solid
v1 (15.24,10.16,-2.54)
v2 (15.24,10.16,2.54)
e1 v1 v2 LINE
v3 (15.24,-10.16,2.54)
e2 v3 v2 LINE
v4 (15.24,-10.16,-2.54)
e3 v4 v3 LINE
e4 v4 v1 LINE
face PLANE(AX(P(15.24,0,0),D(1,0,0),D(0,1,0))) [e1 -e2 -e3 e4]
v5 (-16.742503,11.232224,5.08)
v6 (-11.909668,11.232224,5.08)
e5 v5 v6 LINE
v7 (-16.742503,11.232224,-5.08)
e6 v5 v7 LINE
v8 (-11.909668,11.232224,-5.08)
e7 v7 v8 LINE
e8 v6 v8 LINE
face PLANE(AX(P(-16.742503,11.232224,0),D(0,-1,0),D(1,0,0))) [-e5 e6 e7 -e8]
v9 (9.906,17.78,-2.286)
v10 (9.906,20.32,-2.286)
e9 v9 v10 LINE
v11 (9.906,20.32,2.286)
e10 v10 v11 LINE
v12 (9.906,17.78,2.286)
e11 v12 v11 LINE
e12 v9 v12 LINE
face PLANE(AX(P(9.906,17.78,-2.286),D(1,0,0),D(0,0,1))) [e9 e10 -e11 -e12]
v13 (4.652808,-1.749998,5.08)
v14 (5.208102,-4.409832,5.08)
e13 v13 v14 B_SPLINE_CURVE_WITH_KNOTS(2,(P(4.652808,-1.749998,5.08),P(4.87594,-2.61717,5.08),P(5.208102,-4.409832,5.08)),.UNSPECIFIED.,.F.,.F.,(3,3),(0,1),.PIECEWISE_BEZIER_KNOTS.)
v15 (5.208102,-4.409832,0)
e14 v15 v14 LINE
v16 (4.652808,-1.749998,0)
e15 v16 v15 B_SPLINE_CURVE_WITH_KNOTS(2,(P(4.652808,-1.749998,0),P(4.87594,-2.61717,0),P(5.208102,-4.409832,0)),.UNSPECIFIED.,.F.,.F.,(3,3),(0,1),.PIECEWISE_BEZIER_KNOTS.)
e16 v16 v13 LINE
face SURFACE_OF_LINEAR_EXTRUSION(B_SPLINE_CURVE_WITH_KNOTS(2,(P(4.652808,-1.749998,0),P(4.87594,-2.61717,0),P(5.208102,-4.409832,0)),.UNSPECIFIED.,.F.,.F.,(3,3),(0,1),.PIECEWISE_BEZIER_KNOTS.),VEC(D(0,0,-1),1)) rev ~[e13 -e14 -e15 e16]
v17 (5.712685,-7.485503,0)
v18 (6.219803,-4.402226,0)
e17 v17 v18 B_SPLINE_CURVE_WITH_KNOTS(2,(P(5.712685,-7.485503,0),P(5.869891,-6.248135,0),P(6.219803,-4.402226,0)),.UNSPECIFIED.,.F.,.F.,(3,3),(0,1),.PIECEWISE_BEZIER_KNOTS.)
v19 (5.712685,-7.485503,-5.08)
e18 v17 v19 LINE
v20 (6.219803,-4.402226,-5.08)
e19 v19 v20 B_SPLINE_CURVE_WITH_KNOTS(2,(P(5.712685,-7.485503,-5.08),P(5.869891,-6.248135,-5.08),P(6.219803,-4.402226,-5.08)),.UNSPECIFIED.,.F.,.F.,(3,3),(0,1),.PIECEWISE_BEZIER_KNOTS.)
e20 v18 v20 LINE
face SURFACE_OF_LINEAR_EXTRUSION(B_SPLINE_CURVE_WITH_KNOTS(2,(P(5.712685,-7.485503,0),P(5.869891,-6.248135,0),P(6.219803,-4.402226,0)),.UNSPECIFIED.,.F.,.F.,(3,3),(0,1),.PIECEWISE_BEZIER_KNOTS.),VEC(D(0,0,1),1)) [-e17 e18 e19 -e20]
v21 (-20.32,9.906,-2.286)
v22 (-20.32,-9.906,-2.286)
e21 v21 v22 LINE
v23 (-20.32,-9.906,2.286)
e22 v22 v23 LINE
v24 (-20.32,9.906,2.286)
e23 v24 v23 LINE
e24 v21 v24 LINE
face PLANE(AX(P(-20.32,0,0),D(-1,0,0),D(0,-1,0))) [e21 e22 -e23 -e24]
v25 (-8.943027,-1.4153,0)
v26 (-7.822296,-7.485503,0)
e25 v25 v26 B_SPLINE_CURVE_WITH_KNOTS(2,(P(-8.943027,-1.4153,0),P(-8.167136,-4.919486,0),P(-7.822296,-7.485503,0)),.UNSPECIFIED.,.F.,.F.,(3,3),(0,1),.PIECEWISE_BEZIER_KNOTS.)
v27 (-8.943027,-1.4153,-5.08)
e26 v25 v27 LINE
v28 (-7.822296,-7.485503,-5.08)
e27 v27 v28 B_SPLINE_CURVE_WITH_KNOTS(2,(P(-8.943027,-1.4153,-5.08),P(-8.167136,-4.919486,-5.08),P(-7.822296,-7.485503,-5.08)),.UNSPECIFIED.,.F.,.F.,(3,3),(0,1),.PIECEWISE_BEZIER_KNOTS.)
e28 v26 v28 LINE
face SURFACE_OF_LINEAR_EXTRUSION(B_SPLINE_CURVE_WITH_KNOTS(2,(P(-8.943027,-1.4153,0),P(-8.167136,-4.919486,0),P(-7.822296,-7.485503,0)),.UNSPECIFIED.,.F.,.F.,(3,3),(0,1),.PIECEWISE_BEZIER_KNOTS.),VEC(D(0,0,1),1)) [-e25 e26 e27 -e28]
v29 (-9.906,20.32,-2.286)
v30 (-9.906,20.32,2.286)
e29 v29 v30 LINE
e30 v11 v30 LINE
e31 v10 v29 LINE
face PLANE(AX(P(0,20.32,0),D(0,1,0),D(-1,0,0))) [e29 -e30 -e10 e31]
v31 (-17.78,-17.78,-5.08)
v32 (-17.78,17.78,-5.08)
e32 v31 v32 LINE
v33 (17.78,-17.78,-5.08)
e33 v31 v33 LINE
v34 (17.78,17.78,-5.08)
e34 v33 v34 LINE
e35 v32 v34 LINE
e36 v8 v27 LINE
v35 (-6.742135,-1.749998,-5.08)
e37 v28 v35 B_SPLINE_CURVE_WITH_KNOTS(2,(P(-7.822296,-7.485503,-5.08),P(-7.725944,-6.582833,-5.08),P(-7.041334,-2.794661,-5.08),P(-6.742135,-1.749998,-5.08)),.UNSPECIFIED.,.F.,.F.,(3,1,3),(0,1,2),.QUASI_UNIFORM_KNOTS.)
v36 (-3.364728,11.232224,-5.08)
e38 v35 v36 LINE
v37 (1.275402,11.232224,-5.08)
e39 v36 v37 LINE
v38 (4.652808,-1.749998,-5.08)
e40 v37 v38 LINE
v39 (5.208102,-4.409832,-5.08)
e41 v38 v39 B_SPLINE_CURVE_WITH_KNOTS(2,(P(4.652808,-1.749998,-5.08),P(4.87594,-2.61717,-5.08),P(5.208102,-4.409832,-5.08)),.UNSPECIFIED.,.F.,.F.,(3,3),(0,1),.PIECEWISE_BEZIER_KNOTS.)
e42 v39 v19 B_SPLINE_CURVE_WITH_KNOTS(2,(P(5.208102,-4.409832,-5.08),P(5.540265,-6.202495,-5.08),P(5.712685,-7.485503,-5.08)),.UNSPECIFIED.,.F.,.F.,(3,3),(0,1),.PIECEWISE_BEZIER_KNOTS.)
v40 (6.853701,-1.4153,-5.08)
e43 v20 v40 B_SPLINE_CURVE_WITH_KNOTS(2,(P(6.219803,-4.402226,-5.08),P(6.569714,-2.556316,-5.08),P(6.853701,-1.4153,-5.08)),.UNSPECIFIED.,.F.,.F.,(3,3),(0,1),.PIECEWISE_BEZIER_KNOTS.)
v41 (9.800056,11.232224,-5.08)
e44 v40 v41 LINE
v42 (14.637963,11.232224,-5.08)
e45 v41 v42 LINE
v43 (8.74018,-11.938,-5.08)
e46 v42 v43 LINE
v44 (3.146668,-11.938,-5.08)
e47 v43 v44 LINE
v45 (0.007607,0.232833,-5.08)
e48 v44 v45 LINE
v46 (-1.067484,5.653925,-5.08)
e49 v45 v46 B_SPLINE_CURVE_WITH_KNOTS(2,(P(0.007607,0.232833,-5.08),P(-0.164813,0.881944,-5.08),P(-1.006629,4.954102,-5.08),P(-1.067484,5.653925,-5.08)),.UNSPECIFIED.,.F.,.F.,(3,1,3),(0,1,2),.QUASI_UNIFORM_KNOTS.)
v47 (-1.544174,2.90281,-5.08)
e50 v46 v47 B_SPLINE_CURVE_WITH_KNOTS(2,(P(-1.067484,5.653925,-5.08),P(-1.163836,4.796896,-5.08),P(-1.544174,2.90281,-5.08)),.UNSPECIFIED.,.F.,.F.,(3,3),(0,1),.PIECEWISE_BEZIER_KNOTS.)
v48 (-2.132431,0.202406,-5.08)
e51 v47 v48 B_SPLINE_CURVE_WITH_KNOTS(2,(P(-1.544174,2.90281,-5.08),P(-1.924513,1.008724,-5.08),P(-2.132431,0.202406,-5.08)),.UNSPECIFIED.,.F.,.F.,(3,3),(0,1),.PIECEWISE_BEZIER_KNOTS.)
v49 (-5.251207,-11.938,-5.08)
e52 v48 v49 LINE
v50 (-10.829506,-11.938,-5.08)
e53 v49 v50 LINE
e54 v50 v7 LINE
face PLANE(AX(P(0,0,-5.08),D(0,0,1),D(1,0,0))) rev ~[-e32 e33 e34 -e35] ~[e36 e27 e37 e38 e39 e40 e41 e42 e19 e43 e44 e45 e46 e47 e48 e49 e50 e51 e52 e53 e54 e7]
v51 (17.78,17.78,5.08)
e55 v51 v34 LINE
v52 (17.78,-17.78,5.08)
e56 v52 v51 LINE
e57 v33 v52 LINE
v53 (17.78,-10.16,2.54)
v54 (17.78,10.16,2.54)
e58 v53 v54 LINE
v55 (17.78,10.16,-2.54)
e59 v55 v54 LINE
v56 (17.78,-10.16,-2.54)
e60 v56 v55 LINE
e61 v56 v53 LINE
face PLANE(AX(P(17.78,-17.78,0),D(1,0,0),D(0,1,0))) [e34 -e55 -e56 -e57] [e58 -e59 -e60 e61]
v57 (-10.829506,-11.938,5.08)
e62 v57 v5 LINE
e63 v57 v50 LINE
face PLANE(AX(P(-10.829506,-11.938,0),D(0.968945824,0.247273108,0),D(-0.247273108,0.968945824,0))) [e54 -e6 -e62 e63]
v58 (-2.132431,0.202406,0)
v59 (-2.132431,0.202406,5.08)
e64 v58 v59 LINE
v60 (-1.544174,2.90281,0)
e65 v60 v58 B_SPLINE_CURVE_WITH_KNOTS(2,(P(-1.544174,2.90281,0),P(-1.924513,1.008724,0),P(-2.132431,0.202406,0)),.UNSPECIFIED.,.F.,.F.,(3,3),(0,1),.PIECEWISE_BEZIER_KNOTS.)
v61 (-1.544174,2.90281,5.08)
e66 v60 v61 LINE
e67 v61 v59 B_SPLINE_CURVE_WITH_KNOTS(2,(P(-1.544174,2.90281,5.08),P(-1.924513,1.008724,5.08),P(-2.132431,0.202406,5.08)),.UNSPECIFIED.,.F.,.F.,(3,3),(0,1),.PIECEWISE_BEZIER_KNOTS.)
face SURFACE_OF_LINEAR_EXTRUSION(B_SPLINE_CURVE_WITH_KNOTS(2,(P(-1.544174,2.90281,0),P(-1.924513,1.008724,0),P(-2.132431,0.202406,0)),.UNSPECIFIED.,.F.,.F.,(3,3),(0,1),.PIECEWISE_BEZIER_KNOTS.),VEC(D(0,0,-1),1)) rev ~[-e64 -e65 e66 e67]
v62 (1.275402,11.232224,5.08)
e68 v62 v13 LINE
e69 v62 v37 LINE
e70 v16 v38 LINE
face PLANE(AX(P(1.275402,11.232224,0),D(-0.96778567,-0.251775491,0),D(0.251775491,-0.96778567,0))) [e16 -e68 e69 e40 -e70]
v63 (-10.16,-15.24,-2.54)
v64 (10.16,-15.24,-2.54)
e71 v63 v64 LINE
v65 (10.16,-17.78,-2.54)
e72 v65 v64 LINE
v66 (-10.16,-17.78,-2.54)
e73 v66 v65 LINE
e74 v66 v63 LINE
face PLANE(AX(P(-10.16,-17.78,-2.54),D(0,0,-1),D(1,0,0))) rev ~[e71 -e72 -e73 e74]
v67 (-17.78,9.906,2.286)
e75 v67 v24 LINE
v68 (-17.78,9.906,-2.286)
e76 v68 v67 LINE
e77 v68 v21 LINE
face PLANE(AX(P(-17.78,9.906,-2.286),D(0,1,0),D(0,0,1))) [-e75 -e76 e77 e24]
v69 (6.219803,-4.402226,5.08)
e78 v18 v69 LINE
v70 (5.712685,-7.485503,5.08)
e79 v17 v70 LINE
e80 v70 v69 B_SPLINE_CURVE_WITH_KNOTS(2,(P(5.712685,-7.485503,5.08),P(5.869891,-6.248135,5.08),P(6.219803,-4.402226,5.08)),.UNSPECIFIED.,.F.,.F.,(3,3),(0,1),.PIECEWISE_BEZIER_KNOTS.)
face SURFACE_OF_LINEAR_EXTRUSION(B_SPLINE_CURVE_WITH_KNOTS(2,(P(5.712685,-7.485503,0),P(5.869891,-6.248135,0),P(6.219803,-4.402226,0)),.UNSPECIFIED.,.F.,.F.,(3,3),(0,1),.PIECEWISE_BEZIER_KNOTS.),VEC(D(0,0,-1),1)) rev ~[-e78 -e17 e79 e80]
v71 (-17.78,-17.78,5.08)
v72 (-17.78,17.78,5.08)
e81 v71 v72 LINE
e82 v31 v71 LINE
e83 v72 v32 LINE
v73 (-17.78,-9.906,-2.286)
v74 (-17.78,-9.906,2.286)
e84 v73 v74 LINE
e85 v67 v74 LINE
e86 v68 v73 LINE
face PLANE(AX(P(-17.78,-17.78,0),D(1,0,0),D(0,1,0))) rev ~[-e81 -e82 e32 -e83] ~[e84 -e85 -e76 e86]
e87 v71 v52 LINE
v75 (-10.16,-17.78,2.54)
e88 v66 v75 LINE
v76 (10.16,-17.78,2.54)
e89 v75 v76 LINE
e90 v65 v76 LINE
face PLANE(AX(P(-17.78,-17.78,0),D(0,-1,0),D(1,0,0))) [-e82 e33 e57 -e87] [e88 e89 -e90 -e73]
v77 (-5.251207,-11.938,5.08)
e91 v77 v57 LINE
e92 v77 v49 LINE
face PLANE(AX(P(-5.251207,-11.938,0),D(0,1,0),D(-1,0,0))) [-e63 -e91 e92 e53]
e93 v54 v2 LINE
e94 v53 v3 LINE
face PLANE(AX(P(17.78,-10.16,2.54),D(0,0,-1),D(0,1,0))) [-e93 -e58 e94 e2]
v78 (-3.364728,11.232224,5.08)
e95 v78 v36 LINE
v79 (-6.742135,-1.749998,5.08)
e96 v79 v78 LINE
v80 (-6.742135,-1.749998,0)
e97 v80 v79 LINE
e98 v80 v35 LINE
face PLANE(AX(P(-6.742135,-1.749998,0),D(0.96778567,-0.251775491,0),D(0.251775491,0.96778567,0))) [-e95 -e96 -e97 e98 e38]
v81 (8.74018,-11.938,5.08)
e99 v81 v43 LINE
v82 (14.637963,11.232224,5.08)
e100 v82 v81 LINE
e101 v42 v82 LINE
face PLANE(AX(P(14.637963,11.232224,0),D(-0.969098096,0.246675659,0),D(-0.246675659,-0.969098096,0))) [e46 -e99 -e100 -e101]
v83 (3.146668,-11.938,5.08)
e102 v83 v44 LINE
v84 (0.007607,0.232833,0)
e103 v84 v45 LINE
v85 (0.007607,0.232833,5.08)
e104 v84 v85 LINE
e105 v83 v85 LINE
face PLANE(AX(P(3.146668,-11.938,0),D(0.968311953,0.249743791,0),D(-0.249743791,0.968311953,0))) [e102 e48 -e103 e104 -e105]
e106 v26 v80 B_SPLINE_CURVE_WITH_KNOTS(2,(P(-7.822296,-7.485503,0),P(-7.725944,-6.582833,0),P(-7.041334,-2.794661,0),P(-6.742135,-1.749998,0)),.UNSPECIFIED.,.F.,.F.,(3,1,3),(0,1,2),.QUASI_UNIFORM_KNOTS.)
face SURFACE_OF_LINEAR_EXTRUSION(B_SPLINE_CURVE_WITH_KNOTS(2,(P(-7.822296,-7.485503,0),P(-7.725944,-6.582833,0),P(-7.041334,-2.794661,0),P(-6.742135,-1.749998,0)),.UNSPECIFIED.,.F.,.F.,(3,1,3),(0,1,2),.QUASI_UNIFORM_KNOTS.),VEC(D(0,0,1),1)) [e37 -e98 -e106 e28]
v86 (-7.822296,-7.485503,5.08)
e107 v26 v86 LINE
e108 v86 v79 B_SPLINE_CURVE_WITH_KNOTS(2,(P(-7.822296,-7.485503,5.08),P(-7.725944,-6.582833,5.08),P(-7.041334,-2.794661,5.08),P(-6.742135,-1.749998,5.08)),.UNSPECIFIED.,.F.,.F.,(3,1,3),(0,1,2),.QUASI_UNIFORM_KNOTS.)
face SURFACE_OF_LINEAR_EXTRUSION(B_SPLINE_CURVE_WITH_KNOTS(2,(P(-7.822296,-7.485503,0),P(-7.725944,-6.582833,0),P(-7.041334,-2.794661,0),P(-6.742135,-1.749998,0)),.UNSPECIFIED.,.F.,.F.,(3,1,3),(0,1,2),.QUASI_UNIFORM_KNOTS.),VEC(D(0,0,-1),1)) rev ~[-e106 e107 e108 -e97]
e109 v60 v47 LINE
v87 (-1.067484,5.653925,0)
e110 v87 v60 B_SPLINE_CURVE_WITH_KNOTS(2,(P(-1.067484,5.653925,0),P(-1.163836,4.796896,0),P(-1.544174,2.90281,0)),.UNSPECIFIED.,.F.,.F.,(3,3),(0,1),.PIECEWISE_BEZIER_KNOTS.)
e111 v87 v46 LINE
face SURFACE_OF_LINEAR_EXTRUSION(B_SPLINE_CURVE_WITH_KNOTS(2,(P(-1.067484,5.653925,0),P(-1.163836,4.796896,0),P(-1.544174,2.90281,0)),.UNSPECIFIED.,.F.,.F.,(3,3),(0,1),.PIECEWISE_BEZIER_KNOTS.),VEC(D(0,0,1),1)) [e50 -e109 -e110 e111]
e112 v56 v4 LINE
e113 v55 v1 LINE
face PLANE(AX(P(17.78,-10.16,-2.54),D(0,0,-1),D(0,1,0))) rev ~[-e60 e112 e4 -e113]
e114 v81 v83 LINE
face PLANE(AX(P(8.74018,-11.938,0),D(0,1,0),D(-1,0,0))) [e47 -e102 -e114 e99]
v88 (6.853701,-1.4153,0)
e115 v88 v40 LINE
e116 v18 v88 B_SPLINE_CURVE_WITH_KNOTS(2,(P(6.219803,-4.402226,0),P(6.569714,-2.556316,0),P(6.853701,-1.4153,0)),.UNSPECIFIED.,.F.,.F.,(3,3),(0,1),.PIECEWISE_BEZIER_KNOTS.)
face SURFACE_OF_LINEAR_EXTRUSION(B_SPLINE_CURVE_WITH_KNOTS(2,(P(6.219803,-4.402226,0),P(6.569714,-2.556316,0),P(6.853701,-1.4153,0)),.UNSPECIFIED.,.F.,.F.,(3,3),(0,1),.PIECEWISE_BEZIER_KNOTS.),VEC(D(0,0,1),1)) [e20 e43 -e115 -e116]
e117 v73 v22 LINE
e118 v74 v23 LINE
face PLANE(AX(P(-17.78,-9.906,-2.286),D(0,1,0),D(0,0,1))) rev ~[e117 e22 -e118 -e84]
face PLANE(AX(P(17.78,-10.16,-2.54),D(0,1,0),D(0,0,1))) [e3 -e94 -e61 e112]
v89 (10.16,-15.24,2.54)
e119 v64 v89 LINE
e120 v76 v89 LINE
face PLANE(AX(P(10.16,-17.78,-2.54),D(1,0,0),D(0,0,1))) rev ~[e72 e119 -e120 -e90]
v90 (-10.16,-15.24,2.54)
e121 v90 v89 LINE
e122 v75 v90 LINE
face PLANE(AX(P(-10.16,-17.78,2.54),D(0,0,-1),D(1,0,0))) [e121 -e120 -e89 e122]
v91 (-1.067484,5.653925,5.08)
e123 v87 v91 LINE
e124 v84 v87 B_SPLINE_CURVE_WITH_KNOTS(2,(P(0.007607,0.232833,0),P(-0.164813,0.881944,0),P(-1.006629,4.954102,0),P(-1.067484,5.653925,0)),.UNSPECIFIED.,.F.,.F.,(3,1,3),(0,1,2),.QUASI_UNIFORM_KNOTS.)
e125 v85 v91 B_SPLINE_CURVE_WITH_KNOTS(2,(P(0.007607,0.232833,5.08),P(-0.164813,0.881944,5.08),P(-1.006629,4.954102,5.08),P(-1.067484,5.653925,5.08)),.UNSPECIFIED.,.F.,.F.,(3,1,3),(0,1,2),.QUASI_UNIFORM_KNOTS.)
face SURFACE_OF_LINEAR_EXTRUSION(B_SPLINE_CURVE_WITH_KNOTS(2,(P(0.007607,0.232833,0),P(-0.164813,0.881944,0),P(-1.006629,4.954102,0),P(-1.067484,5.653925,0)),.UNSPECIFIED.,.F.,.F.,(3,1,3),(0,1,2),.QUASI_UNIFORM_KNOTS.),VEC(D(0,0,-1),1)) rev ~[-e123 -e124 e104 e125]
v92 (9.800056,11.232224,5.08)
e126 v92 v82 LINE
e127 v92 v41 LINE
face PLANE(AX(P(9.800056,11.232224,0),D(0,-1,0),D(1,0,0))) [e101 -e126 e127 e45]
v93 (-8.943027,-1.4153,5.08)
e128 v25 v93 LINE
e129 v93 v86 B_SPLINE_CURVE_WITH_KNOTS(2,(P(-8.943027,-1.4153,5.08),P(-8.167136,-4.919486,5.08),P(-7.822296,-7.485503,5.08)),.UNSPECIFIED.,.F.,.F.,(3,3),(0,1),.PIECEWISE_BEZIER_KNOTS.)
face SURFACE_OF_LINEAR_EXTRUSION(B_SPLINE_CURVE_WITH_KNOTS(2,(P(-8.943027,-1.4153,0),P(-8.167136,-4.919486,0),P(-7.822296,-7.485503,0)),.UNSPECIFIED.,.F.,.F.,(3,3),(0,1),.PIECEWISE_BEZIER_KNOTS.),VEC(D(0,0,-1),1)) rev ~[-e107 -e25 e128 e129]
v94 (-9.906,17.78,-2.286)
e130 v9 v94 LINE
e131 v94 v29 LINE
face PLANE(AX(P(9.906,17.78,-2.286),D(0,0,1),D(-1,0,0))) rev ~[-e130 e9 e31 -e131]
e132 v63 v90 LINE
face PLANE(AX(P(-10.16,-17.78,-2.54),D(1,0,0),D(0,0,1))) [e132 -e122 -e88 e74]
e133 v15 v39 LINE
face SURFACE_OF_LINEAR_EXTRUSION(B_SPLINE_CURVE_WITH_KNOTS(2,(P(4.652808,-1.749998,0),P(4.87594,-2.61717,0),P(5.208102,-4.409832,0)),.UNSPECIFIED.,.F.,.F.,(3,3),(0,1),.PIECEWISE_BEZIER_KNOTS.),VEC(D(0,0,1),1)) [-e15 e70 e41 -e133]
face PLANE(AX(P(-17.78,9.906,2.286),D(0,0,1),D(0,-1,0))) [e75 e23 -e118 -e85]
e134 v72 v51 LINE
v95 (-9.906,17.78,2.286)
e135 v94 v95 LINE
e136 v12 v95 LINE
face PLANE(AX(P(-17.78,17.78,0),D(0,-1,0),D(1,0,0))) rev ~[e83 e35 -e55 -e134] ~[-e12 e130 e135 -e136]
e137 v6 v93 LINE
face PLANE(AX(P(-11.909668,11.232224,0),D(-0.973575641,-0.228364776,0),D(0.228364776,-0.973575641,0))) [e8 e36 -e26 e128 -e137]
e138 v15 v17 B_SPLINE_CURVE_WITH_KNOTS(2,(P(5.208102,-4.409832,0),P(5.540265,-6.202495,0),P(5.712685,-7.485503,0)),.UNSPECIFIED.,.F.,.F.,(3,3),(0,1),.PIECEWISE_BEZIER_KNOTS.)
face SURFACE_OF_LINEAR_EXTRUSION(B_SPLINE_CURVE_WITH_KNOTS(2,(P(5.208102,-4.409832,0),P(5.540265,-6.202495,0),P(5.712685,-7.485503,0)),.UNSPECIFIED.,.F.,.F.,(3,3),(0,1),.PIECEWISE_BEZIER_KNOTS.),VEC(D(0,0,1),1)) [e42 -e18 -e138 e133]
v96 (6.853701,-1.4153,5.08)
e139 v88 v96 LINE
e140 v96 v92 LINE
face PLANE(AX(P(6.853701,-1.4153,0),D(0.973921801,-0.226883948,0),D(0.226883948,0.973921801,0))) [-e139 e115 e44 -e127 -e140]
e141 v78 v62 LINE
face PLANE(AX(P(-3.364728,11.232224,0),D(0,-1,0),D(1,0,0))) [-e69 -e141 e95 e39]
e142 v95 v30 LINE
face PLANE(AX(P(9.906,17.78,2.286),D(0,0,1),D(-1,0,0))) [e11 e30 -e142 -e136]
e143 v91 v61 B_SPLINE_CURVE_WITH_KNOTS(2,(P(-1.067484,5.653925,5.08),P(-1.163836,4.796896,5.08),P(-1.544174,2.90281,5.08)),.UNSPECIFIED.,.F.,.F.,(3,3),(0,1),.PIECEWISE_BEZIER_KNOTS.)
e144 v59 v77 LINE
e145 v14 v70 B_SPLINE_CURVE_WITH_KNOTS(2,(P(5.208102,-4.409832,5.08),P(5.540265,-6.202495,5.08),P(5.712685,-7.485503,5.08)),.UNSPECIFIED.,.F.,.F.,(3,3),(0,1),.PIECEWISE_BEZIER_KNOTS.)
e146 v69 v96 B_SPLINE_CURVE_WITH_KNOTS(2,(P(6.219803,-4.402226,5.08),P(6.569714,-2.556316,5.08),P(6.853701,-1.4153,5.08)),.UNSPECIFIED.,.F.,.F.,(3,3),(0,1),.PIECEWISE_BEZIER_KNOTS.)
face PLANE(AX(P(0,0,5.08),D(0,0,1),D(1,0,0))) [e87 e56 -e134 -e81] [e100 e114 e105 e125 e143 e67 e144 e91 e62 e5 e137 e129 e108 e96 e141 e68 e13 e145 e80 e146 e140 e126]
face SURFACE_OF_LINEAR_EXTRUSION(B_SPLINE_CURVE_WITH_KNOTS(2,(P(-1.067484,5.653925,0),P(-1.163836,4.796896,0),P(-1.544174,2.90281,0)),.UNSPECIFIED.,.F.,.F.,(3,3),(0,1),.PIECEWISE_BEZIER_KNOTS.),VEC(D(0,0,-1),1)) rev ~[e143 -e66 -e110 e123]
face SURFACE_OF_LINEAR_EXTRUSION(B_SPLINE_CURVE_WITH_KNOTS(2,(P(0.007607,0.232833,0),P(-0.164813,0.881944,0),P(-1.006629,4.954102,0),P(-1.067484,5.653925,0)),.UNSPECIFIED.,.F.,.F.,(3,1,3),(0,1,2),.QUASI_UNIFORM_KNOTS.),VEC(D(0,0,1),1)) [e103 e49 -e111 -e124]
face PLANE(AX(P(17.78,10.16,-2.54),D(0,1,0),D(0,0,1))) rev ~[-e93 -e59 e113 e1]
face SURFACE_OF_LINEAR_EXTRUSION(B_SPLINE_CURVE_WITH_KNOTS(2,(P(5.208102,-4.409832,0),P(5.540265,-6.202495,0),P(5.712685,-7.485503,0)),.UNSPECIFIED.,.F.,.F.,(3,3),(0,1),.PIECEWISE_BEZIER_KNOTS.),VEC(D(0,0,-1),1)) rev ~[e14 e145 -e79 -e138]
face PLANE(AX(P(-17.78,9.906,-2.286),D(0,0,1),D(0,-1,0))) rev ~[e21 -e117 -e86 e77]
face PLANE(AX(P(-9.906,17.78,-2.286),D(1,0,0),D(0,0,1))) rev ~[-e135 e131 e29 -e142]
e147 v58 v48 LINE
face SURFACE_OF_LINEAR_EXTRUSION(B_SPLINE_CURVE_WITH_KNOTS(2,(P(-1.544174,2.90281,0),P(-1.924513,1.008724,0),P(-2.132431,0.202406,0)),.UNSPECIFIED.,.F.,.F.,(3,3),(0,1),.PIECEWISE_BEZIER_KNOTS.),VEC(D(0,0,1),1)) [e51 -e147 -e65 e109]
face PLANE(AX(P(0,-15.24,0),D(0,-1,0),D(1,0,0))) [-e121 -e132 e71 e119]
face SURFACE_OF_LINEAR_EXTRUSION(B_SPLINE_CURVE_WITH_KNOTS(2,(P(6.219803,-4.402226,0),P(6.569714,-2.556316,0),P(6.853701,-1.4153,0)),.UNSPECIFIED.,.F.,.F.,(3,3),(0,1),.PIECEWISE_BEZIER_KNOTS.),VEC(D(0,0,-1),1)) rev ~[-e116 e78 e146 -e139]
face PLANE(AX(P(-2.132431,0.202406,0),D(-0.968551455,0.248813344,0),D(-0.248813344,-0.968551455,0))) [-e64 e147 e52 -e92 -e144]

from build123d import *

# Parameters (mm, degrees)
F0_W     = 35.56
F0_H     = 35.56
F1_DEPTH = 5.08
F2_W     = 19.812
F2_H     = 4.572
F3_DEPTH = 2.54
F4_W     = 19.812
F4_H     = 4.572
F5_DEPTH = 2.54
F6_W     = 20.32
F6_H     = 5.08
F7_DEPTH = 2.54
F8_W     = 20.32
F8_H     = 5.08
F9_DEPTH = 2.54


with BuildPart() as f1:
    # F0 (on Top) → F1 (new body, symmetric)
    with BuildSketch(Plane.XY):
        Rectangle(F0_W, F0_H)
        with BuildLine():
            Line((14.6379626736, 11.2322239583), (8.7401796875, -11.938))
            Line((8.7401796875, -11.938), (3.1466675347, -11.938))
            Line((3.1466675347, -11.938), (0.0076067708, 0.2328333333))
            add(Edge.make_bspline(
                [(0.0076067708, 0.2328333333), (-0.1648133681, 0.8819444444), (-0.5857213542, 2.9180234375)],
                knots=[0, 0, 0, 1, 1, 1], degree=2))
            add(Edge.make_bspline(
                [(-0.5857213542, 2.9180234375), (-1.0066293403, 4.9541024306), (-1.0674835069, 5.6539253472)],
                knots=[0, 0, 0, 1, 1, 1], degree=2))
            add(Edge.make_bspline(
                [(-1.0674835069, 5.6539253472), (-1.1638359375, 4.7968958333), (-1.5441744792, 2.9028098958)],
                knots=[0, 0, 0, 1, 1, 1], degree=2))
            add(Edge.make_bspline(
                [(-1.5441744792, 2.9028098958), (-1.9245130208, 1.0087239583), (-2.1324314236, 0.20240625)],
                knots=[0, 0, 0, 1, 1, 1], degree=2))
            Line((-2.1324314236, 0.20240625), (-5.2512074653, -11.938))
            Line((-5.2512074653, -11.938), (-10.8295060764, -11.938))
            Line((-10.8295060764, -11.938), (-16.7425026042, 11.2322239583))
            Line((-16.7425026042, 11.2322239583), (-11.9096675347, 11.2322239583))
            Line((-11.9096675347, 11.2322239583), (-8.9430269097, -1.4153003472))
            add(Edge.make_bspline(
                [(-8.9430269097, -1.4153003472), (-8.1671362847, -4.9194861111), (-7.8222960069, -7.4855034722)],
                knots=[0, 0, 0, 1, 1, 1], degree=2))
            add(Edge.make_bspline(
                [(-7.8222960069, -7.4855034722), (-7.7259435764, -6.5828333333), (-7.3836388889, -4.6887473958)],
                knots=[0, 0, 0, 1, 1, 1], degree=2))
            add(Edge.make_bspline(
                [(-7.3836388889, -4.6887473958), (-7.0413342014, -2.7946614583), (-6.7421345486, -1.7499982639)],
                knots=[0, 0, 0, 1, 1, 1], degree=2))
            Line((-6.7421345486, -1.7499982639), (-3.3647282986, 11.2322239583))
            Line((-3.3647282986, 11.2322239583), (1.2754019097, 11.2322239583))
            Line((1.2754019097, 11.2322239583), (4.6528081597, -1.7499982639))
            add(Edge.make_bspline(
                [(4.6528081597, -1.7499982639), (4.8759401042, -2.6171701389), (5.2081024306, -4.4098324653)],
                knots=[0, 0, 0, 1, 1, 1], degree=2))
            add(Edge.make_bspline(
                [(5.2081024306, -4.4098324653), (5.5402647569, -6.2024947917), (5.7126848958, -7.4855034722)],
                knots=[0, 0, 0, 1, 1, 1], degree=2))
            add(Edge.make_bspline(
                [(5.7126848958, -7.4855034722), (5.8698914931, -6.2481354167), (6.2198029514, -4.4022256944)],
                knots=[0, 0, 0, 1, 1, 1], degree=2))
            add(Edge.make_bspline(
                [(6.2198029514, -4.4022256944), (6.5697144097, -2.5563159722), (6.8537005208, -1.4153003472)],
                knots=[0, 0, 0, 1, 1, 1], degree=2))
            Line((6.8537005208, -1.4153003472), (9.8000564236, 11.2322239583))
            Line((9.8000564236, 11.2322239583), (14.6379626736, 11.2322239583))
        make_face(mode=Mode.SUBTRACT)
    extrude(amount=F1_DEPTH, both=True)

    # F2 (on face) → F3 (join)
    with BuildSketch(Plane(origin=(0, 17.78, 0), x_dir=(-1, 0, 0), z_dir=(0, 1, 0))):
        Rectangle(F2_W, F2_H)
    extrude(amount=F3_DEPTH)

    # F4 (on face) → F5 (join)
    with BuildSketch(Plane(origin=(-17.78, 0, 0), x_dir=(0, -1, 0), z_dir=(-1, 0, 0))):
        Rectangle(F4_W, F4_H)
    extrude(amount=F5_DEPTH)

    # F6 (on face) → F7 (cut)
    with BuildSketch(Plane.XZ.offset(17.78)):
        Rectangle(F6_W, F6_H)
    extrude(amount=-F7_DEPTH, mode=Mode.SUBTRACT)

    # F8 (on face) → F9 (cut)
    with BuildSketch(Plane.YZ.offset(17.78)):
        Rectangle(F8_W, F8_H)
    extrude(amount=-F9_DEPTH, mode=Mode.SUBTRACT)


solid = f1.part
